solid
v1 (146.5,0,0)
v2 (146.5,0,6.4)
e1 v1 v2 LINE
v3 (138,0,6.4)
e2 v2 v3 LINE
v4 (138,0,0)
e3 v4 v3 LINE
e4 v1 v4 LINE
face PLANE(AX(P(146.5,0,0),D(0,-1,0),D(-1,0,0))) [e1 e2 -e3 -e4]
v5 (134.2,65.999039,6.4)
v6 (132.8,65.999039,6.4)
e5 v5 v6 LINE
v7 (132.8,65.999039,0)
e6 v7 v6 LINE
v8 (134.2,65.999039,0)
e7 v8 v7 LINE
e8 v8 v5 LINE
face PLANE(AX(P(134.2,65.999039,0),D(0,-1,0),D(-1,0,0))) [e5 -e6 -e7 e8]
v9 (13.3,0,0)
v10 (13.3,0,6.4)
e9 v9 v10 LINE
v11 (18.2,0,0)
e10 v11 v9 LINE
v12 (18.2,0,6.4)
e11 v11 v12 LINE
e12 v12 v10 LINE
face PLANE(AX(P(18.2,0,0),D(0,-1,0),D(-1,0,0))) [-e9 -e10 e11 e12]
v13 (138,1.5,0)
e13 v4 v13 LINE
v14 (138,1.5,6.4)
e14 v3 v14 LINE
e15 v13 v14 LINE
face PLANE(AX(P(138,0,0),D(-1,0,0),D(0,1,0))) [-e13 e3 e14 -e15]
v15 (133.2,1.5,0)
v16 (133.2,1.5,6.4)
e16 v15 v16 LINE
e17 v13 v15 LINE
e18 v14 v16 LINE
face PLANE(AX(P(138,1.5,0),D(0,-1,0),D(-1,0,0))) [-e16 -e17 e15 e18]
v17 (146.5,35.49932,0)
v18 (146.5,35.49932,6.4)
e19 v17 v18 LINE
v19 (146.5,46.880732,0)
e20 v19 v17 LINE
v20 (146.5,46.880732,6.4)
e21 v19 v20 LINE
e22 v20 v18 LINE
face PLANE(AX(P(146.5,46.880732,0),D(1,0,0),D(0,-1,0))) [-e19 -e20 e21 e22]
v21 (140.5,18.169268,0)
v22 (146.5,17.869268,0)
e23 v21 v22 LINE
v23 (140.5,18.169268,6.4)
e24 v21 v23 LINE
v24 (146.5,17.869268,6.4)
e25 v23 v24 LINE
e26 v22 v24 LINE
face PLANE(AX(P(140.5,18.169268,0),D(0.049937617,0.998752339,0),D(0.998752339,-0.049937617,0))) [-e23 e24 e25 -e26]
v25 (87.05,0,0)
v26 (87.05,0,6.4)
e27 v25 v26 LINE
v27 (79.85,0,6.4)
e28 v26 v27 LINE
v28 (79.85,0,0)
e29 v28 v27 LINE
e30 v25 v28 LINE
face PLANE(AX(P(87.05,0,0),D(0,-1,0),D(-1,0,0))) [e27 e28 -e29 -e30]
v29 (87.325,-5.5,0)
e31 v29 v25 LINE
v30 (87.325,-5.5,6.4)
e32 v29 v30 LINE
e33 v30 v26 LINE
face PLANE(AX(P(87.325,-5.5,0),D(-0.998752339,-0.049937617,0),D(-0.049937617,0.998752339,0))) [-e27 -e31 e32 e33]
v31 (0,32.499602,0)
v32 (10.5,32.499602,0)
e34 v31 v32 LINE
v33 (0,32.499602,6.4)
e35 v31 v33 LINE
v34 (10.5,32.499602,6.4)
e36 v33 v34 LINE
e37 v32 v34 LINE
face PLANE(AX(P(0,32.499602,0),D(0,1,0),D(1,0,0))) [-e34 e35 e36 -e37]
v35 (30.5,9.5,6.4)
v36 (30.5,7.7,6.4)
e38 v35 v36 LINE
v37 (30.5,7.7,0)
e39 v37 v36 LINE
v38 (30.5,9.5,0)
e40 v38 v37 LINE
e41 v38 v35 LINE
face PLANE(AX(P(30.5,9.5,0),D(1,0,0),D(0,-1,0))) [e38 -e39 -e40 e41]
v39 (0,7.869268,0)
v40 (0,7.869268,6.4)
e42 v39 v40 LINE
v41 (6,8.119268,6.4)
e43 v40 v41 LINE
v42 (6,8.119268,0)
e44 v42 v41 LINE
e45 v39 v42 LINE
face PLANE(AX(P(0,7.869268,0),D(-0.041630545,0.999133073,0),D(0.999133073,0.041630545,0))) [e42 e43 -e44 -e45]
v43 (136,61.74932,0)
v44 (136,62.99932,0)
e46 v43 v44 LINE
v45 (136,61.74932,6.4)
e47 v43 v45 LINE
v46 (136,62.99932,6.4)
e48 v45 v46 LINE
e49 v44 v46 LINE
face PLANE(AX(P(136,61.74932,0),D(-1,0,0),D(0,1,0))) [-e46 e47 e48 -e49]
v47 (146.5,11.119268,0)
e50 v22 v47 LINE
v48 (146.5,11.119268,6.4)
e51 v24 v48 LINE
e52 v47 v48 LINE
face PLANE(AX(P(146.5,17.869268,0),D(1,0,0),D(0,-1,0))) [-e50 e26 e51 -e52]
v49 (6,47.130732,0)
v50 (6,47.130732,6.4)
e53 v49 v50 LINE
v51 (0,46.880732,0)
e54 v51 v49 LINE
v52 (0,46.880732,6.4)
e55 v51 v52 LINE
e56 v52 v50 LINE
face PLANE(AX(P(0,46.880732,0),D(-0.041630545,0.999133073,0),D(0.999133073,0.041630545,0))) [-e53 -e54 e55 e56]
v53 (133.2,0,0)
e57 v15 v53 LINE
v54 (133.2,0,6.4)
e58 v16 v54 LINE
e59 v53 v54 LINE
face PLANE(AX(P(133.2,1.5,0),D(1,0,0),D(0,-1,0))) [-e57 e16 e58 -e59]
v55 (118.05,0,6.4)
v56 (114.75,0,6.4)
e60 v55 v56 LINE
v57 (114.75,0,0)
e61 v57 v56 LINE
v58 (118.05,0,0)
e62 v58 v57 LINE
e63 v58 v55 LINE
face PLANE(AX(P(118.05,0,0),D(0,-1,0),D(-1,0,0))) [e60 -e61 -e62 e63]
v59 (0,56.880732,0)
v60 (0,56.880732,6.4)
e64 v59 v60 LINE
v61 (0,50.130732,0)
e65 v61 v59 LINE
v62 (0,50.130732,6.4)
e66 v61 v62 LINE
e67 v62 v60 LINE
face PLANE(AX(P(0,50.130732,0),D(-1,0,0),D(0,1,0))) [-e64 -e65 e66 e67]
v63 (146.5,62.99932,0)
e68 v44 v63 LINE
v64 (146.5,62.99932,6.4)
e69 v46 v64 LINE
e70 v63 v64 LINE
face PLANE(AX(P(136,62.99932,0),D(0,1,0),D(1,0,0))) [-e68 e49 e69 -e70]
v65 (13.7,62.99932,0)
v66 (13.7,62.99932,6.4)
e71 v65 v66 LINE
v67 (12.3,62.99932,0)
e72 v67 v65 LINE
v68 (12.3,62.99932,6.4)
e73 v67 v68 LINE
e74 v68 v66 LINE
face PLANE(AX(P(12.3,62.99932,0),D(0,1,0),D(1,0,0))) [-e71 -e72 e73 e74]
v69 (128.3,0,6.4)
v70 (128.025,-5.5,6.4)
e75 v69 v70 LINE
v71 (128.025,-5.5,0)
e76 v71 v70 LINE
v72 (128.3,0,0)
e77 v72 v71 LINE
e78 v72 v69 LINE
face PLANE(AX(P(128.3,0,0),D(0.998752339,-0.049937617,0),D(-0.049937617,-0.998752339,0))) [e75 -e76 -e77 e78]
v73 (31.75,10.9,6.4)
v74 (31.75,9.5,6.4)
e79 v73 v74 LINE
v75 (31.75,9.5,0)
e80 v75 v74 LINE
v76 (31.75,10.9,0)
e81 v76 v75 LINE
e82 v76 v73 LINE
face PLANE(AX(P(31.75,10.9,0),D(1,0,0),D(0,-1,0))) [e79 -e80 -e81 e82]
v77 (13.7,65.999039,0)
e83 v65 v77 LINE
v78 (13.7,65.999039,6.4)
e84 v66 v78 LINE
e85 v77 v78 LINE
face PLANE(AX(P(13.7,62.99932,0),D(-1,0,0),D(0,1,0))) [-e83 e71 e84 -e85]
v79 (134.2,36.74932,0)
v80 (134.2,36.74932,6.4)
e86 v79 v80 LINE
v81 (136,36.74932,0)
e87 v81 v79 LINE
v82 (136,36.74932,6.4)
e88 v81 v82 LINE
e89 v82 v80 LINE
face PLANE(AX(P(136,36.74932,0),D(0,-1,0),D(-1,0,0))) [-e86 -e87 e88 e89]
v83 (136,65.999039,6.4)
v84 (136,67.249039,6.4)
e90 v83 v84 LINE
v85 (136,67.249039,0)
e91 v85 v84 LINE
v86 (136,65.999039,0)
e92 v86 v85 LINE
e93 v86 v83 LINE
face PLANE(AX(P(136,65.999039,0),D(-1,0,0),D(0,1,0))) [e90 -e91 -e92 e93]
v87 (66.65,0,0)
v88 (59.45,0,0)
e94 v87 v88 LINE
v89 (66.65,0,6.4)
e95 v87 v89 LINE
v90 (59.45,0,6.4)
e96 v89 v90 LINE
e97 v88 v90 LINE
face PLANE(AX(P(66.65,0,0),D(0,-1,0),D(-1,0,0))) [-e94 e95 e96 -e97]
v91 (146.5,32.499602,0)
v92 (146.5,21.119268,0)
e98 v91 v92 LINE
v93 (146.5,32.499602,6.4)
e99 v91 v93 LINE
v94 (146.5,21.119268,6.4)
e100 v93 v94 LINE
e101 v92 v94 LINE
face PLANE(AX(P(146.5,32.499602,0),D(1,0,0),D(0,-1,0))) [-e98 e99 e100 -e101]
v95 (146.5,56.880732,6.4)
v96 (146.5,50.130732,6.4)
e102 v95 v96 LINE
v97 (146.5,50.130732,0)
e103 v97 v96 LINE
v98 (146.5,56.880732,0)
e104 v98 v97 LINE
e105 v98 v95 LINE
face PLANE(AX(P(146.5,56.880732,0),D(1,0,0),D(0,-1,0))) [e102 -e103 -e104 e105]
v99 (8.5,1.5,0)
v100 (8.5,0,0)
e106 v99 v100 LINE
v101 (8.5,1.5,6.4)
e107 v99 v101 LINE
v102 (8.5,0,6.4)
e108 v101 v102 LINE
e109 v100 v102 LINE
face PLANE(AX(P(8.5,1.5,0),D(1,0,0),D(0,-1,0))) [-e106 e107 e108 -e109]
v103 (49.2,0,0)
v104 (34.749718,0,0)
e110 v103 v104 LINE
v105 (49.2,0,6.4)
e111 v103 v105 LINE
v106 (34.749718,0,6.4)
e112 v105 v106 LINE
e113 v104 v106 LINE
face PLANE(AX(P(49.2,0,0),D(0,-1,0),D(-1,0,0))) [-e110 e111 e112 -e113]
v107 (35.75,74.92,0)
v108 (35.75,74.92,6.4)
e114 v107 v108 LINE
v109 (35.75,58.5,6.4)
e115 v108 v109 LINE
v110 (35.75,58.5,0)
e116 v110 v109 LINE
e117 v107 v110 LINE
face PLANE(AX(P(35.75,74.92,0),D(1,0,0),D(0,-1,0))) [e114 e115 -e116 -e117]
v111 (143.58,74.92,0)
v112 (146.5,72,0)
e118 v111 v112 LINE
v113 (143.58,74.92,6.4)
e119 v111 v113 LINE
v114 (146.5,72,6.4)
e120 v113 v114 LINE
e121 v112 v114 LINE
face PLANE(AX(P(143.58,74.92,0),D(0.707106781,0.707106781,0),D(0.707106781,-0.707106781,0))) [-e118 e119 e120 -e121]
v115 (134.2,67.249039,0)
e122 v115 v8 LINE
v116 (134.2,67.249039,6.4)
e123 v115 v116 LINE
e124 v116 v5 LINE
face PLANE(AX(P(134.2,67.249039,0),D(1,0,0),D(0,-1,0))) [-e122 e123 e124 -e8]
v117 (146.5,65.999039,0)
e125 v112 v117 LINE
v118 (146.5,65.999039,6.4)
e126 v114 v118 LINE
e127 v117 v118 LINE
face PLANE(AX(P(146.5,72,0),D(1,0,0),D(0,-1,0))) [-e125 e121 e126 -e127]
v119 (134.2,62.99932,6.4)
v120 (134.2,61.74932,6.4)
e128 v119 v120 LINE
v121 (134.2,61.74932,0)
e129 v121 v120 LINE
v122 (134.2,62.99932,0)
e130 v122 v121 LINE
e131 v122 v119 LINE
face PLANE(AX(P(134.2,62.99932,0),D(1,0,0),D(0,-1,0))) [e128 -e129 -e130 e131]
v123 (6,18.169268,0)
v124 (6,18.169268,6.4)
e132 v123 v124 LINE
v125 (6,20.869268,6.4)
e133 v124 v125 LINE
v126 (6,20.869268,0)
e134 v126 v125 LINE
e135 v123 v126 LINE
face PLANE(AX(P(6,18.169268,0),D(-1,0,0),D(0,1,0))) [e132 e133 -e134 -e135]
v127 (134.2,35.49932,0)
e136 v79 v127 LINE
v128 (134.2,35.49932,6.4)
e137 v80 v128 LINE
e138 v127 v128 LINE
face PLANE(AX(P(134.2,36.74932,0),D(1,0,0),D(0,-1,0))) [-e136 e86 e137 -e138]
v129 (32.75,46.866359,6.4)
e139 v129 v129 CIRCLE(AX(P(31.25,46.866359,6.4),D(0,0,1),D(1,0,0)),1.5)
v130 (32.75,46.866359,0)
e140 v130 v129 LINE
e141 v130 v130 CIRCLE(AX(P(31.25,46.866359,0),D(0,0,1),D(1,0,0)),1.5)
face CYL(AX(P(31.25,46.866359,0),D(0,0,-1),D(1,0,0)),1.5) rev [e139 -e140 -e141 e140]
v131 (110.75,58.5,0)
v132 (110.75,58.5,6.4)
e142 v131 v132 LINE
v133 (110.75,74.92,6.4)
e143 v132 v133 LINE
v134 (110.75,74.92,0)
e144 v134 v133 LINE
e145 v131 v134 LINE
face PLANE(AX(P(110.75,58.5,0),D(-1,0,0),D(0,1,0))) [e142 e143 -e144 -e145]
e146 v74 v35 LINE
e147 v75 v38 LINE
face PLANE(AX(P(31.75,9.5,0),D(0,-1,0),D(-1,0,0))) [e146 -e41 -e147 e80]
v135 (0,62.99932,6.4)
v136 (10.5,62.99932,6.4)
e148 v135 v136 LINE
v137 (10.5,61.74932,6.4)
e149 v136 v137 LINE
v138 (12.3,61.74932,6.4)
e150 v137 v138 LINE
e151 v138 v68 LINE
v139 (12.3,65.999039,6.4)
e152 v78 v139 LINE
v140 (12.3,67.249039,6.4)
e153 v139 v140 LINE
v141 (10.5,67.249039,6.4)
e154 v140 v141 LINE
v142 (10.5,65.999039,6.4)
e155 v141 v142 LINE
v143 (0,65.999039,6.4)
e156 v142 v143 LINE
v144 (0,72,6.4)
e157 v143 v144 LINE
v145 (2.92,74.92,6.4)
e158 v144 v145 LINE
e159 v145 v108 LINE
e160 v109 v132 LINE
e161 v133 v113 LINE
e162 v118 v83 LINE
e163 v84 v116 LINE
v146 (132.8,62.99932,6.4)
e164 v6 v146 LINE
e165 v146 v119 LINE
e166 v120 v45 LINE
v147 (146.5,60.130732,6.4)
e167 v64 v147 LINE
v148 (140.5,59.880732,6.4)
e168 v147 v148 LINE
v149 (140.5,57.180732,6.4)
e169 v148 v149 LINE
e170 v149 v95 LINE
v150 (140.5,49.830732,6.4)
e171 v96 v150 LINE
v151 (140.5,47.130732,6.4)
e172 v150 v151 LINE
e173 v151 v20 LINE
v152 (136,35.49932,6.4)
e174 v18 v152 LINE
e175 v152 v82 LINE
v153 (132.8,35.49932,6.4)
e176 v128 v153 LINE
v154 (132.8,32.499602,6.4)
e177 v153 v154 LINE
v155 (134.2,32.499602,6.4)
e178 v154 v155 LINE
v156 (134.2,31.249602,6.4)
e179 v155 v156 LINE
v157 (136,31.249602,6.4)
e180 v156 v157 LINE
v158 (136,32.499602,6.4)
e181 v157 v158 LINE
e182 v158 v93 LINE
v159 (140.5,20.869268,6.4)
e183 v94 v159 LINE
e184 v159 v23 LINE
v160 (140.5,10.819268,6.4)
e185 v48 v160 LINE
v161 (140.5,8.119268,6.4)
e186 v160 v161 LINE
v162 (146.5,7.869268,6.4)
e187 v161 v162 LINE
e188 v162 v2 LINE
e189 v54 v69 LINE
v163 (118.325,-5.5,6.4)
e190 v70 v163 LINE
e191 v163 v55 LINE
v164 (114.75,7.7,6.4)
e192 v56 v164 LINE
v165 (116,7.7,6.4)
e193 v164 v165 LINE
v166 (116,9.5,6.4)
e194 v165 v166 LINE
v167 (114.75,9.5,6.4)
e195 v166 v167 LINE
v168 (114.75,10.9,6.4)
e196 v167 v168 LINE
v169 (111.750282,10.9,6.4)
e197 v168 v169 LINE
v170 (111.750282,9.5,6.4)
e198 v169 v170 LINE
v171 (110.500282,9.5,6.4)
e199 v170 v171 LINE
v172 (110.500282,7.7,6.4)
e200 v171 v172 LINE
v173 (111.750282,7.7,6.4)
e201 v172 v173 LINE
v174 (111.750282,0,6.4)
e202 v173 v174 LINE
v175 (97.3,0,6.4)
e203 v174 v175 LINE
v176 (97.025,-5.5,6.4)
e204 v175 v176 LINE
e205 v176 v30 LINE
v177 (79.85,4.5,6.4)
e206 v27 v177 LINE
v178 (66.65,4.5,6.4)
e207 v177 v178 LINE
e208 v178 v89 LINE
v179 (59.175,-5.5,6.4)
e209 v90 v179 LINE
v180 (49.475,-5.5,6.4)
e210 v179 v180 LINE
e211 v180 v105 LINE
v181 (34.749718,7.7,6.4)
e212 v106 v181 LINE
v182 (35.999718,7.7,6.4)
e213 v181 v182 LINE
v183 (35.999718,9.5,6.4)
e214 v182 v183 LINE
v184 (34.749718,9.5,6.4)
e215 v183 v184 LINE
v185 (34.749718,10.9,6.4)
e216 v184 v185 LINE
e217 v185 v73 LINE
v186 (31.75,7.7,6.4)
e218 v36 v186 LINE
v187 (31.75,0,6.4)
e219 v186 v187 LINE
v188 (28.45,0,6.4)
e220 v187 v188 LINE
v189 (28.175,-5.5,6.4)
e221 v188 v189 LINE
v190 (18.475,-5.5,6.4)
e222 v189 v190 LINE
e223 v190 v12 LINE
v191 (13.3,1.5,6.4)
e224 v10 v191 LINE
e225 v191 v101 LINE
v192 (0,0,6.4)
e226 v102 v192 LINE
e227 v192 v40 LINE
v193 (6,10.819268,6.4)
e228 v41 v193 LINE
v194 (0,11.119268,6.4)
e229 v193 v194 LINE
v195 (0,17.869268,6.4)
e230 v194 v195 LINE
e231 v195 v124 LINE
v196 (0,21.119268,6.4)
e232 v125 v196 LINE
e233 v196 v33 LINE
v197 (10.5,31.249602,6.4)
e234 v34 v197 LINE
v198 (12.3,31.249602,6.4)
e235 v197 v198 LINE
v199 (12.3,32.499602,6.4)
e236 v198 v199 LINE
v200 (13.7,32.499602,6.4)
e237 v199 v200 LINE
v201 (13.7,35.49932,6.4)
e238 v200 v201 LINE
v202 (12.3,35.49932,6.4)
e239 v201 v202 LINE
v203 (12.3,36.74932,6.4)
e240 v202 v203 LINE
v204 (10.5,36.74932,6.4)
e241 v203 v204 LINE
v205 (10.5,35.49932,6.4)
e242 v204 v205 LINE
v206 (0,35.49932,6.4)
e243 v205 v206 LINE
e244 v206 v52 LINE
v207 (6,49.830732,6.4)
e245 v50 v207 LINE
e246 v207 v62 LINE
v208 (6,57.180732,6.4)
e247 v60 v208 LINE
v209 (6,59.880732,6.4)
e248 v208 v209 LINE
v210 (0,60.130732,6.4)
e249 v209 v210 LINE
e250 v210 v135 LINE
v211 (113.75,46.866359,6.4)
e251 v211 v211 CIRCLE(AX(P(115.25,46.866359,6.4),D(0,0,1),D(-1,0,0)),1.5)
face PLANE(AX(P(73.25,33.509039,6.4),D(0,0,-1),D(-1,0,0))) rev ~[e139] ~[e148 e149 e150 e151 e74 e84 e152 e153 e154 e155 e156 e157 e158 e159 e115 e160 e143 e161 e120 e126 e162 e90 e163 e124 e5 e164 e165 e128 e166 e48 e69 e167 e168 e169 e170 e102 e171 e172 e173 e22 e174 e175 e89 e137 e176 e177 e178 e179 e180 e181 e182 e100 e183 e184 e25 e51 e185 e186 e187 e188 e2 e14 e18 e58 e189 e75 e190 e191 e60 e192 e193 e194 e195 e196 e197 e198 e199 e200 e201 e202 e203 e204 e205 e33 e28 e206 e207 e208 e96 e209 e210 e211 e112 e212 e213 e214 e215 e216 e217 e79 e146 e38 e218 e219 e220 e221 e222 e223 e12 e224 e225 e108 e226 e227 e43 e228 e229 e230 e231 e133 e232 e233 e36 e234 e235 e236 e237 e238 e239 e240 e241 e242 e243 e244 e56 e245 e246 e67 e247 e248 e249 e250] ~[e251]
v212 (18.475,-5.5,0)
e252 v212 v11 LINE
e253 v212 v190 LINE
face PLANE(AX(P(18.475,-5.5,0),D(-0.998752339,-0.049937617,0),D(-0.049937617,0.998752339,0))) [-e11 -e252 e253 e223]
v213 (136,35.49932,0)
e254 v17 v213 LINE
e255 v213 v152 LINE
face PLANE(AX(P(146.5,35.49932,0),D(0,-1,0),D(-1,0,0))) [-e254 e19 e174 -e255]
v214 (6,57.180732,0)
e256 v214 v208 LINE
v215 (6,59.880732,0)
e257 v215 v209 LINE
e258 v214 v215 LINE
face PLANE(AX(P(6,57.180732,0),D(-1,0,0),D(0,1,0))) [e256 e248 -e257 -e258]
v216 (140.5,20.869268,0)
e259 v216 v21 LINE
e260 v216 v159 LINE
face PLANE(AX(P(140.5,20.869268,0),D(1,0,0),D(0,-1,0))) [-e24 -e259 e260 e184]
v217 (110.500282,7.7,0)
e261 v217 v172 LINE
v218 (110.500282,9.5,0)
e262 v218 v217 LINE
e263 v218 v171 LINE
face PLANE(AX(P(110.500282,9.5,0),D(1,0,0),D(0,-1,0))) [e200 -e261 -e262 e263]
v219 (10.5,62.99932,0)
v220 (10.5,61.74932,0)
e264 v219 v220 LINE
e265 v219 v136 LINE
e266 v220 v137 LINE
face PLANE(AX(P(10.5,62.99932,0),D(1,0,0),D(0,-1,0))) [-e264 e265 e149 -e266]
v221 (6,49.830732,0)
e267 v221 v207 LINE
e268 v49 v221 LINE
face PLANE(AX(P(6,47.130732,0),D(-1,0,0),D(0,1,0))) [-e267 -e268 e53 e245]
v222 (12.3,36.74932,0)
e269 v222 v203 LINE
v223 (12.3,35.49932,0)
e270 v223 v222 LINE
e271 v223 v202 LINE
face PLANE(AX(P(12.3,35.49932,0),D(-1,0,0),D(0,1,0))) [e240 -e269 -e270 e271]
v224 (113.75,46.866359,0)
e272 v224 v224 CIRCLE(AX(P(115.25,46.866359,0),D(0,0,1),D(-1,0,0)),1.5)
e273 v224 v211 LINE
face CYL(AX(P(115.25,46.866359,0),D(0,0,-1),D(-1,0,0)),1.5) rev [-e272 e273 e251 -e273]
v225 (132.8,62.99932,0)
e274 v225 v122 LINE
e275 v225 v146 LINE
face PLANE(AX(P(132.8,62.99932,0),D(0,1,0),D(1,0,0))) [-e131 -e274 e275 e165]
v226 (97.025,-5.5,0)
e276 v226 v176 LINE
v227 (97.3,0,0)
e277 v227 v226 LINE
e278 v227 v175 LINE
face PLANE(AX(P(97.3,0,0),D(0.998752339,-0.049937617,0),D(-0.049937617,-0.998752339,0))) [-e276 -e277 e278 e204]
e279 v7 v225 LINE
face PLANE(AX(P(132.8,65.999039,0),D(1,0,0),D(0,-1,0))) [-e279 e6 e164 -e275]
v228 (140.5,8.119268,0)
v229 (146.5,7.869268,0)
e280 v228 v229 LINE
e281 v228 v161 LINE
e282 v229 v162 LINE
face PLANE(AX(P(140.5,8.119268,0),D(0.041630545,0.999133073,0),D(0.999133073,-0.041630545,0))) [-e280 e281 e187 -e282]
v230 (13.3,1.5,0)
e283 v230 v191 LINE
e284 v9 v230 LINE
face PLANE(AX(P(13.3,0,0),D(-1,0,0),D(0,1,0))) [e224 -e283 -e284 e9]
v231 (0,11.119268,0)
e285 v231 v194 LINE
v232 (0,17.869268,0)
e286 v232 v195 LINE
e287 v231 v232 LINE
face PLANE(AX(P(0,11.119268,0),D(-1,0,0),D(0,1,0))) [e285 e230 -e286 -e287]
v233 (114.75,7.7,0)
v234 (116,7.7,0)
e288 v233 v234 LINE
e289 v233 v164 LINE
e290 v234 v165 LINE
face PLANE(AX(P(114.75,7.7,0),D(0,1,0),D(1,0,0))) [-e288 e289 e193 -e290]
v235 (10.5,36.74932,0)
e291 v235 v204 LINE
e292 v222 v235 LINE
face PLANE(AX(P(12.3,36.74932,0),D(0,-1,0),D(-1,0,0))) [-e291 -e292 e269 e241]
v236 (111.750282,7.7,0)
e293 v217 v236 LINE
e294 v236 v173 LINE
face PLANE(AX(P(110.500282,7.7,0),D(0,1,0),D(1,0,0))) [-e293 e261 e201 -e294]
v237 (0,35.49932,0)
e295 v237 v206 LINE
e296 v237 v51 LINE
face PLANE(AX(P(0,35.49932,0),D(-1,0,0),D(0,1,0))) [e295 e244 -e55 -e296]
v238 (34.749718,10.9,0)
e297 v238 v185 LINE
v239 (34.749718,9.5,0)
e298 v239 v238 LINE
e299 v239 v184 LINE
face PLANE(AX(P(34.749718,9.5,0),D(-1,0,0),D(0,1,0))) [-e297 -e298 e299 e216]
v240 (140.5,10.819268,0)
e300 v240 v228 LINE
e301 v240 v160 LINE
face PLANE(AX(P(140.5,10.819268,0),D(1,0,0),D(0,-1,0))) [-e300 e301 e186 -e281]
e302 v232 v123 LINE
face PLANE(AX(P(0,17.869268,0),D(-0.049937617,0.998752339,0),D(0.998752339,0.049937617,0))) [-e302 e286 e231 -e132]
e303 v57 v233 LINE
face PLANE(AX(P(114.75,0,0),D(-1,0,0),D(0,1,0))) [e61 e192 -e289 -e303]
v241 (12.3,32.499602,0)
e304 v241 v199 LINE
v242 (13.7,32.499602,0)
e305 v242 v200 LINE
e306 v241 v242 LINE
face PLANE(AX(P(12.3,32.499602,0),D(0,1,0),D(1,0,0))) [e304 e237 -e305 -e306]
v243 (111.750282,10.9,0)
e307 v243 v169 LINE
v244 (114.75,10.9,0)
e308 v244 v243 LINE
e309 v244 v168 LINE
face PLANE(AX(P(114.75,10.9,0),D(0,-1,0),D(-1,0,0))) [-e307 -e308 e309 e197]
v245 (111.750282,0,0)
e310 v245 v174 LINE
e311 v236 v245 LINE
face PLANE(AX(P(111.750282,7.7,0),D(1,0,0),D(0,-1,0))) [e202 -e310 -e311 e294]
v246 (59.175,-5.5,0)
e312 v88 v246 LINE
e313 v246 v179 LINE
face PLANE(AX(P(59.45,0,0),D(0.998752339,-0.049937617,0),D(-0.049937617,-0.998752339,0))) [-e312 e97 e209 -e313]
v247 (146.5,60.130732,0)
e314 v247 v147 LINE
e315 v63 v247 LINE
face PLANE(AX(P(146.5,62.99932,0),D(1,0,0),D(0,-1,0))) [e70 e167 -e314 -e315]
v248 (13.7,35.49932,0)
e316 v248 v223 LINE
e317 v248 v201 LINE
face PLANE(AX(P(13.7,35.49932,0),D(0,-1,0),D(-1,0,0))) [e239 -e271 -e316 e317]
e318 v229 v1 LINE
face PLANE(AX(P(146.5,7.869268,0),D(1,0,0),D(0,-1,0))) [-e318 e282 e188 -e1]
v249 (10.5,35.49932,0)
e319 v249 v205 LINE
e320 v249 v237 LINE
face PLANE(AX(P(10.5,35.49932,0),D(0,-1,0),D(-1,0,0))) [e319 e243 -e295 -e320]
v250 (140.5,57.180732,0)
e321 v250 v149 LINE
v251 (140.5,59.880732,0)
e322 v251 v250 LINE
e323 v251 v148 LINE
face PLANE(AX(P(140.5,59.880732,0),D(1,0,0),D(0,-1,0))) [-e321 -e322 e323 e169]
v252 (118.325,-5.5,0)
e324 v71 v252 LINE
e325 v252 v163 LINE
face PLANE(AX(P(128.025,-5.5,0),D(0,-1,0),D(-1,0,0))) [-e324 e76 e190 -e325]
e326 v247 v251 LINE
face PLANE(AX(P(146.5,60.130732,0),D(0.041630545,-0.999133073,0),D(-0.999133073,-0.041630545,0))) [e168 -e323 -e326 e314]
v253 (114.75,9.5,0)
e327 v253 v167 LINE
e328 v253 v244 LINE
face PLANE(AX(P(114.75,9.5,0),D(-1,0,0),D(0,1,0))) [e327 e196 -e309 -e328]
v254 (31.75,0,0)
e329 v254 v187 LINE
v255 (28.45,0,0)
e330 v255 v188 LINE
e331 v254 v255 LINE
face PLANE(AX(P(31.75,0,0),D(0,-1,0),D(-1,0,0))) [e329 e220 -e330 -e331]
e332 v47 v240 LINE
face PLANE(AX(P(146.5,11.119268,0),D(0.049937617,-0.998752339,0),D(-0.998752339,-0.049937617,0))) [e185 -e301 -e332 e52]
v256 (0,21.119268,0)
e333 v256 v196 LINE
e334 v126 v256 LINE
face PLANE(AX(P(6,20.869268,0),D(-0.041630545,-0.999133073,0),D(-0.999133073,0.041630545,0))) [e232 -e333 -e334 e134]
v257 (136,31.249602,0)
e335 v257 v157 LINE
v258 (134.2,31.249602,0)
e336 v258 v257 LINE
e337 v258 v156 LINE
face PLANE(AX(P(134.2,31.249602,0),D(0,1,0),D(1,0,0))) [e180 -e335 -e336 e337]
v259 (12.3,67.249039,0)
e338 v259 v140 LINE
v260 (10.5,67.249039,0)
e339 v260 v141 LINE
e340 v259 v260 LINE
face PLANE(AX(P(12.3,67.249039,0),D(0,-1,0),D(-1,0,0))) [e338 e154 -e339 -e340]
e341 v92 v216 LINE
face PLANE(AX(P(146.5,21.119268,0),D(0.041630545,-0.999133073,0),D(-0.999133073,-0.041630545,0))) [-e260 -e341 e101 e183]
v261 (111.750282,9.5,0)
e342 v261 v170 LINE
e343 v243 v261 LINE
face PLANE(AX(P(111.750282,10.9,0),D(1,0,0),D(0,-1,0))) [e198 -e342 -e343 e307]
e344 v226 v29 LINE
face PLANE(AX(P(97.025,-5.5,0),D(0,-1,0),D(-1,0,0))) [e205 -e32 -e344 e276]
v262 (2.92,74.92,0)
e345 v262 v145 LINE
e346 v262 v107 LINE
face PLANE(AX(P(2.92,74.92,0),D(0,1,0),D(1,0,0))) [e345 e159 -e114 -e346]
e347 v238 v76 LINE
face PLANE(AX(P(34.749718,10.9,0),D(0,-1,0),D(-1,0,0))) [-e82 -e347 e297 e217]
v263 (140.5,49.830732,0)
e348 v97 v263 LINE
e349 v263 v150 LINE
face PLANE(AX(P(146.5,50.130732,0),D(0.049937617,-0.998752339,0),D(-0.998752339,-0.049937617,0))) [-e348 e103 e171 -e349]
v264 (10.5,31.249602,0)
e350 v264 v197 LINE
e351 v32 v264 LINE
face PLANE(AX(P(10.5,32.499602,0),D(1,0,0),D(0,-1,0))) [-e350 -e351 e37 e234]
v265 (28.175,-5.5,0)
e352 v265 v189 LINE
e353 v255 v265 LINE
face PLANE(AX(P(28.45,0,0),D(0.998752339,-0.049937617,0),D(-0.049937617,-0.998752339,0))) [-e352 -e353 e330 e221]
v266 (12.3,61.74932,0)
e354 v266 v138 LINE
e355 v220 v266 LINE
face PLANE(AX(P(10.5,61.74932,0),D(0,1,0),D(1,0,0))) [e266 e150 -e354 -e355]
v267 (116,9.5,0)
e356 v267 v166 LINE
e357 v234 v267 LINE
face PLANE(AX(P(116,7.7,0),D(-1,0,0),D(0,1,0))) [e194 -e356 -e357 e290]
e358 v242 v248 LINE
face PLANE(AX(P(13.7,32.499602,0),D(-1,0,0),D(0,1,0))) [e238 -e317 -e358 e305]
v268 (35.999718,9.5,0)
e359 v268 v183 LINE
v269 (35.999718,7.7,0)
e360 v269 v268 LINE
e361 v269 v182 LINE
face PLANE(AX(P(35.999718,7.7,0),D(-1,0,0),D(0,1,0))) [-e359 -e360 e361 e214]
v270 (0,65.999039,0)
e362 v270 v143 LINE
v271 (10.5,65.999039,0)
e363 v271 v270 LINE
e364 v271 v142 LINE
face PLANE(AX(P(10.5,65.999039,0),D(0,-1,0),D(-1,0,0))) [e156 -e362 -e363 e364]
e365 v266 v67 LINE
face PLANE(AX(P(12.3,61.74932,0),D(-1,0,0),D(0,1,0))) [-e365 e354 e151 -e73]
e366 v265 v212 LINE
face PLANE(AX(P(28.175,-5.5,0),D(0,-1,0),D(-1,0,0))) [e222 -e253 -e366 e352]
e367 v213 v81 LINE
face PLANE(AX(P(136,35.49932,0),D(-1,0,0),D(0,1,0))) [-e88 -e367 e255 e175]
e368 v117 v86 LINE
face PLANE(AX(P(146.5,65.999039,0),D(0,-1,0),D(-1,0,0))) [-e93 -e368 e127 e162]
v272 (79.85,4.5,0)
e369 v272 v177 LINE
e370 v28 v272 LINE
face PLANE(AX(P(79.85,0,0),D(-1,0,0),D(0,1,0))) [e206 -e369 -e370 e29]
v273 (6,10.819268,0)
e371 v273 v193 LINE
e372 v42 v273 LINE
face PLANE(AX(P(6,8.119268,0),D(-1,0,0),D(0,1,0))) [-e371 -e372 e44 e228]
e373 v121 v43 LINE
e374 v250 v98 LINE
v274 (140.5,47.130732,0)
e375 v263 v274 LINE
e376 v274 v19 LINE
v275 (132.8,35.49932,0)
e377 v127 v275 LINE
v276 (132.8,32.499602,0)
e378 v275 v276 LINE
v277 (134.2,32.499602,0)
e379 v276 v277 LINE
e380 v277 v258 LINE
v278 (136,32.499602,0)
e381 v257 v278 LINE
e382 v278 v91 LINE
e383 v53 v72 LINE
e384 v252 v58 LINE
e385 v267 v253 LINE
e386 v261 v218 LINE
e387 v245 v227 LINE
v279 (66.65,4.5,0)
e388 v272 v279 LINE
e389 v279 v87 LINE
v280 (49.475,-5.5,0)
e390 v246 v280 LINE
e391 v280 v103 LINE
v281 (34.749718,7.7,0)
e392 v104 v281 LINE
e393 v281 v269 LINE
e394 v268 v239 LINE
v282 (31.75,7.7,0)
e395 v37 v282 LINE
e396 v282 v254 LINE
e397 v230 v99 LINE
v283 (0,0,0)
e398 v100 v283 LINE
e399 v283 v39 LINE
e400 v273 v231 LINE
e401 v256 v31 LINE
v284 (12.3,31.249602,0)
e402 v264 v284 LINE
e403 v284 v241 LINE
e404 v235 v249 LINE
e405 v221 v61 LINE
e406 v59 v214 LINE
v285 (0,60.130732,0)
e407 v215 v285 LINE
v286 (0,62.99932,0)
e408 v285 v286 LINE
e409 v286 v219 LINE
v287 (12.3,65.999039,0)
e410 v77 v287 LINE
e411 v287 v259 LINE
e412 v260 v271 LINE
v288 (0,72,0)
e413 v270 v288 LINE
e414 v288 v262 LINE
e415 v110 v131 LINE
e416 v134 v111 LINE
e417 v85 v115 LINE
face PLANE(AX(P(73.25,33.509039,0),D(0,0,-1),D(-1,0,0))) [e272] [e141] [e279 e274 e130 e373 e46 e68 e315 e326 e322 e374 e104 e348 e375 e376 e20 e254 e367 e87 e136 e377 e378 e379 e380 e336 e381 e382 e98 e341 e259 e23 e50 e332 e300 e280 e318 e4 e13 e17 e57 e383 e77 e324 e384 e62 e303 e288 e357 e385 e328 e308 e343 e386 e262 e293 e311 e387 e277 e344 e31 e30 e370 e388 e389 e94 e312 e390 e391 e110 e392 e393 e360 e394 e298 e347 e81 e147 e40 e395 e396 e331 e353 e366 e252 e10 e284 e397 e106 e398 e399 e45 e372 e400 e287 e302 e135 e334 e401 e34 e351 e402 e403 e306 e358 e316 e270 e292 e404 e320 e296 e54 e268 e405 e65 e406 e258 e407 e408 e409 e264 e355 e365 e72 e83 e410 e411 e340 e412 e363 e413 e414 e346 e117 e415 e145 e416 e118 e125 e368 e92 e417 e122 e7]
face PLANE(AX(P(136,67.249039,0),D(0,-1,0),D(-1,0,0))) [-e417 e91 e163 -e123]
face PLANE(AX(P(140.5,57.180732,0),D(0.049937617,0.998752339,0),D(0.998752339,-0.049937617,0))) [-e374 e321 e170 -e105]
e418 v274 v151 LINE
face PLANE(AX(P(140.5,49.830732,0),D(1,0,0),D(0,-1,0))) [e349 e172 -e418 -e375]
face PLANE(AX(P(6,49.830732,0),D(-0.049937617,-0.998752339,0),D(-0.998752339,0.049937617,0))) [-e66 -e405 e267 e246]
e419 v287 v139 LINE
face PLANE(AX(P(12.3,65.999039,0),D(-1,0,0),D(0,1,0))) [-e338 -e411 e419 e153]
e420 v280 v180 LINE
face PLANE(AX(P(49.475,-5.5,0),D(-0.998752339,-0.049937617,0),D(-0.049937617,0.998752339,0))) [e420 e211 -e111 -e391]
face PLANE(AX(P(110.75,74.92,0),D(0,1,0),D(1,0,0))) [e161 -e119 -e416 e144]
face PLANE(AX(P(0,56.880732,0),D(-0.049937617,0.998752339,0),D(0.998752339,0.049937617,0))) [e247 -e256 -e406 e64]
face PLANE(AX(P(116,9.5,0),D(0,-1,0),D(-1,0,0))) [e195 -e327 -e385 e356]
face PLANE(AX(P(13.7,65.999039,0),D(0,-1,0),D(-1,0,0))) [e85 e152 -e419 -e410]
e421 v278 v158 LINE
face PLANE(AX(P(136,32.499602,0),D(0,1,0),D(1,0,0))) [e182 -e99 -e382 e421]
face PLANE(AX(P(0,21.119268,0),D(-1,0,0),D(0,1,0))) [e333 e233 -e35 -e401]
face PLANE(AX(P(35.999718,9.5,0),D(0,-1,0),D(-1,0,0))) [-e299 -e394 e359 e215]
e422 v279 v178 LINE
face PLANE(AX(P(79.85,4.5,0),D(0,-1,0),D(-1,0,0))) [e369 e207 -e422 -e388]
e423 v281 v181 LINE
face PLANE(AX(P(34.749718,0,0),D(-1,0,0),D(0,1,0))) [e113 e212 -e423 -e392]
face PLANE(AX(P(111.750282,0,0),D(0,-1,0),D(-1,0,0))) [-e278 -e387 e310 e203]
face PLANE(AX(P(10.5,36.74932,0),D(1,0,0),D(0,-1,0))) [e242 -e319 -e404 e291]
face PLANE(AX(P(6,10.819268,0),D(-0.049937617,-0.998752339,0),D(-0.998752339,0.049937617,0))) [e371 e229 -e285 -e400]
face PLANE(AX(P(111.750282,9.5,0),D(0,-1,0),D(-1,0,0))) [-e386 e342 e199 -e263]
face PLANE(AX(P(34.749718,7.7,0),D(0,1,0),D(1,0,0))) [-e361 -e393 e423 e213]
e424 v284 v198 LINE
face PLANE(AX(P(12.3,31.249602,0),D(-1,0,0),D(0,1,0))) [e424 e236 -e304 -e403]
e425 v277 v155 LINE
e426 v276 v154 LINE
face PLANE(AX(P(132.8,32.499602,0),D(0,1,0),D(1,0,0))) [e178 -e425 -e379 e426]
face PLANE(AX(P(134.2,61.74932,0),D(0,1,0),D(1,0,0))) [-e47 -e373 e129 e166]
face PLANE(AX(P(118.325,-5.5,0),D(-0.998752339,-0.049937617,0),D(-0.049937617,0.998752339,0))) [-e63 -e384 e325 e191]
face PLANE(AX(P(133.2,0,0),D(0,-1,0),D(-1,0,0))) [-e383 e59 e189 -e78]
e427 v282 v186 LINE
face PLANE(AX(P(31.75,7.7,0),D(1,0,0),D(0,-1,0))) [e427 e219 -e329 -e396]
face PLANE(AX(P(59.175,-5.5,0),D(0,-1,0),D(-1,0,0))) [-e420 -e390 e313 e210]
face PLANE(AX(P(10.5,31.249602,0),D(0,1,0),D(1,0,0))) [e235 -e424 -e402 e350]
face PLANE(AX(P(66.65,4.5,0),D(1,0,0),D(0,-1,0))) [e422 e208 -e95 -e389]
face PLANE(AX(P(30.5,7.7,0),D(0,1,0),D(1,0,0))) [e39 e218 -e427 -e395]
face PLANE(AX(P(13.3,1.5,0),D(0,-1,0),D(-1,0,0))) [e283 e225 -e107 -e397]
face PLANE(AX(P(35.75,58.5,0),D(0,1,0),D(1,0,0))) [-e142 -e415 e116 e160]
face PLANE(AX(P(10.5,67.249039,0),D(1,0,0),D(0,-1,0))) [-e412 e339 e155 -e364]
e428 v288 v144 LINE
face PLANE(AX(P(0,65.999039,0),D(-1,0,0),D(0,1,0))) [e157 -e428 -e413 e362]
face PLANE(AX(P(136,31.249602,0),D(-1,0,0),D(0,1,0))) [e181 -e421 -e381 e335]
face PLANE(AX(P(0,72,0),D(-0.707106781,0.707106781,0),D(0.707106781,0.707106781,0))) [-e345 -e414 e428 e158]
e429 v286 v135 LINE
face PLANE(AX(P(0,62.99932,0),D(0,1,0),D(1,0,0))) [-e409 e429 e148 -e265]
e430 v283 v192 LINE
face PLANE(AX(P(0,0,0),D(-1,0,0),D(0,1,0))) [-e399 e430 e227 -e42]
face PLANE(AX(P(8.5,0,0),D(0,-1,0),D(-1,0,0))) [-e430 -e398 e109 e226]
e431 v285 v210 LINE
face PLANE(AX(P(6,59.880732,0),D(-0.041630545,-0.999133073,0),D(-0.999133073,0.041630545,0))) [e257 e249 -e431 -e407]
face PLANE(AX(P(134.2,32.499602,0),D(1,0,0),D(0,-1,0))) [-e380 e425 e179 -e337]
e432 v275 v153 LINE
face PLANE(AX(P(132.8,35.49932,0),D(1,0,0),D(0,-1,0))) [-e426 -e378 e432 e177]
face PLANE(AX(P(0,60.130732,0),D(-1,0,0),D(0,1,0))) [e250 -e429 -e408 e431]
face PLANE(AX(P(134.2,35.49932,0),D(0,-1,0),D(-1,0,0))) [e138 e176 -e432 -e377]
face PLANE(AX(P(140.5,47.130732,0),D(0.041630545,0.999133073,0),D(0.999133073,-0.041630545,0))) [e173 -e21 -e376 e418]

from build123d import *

# Parameters (mm, degrees)
SKETCH2_R           = 1.5
BOSS_EXTRUDE1_DEPTH = 6.4


with BuildPart() as part:
    # Sketch2 → Boss-Extrude1 (new body)
    with BuildSketch(Plane.XY):
        Polygon((35.75, 58.5), (110.75, 58.5), (110.75, 74.92), (143.58, 74.92), (146.5, 72), (146.5, 65.999038761), (136, 65.999038761), (136, 67.249038761), (134.2, 67.249038761), (134.2, 65.999038761), (132.8, 65.999038761), (132.8, 62.999320414), (134.2, 62.999320414), (134.2, 61.749320414), (136, 61.749320414), (136, 62.999320414), (146.5, 62.999320414), (146.5, 60.13073157), (140.5, 59.88073157), (140.5, 57.18073157), (146.5, 56.88073157), (146.5, 50.13073157), (140.5, 49.83073157), (140.5, 47.13073157), (146.5, 46.88073157), (146.5, 35.499320414), (136, 35.499320414), (136, 36.749320414), (134.2, 36.749320414), (134.2, 35.499320414), (132.8, 35.499320414), (132.8, 32.499602067), (134.2, 32.499602067), (134.2, 31.249602067), (136, 31.249602067), (136, 32.499602067), (146.5, 32.499602067), (146.5, 21.11926843), (140.5, 20.86926843), (140.5, 18.16926843), (146.5, 17.86926843), (146.5, 11.11926843), (140.5, 10.81926843), (140.5, 8.11926843), (146.5, 7.86926843), (146.5, 0), (138, 0), (138, 1.5), (133.2, 1.5), (133.2, 0), (128.3, 0), (128.025, -5.5), (118.325, -5.5), (118.05, 0), (114.75, 0), (114.75, 7.7), (116, 7.7), (116, 9.5), (114.75, 9.5), (114.75, 10.9), (111.750281653, 10.9), (111.750281653, 9.5), (110.500281653, 9.5), (110.500281653, 7.7), (111.750281653, 7.7), (111.750281653, 0), (97.3, 0), (97.025, -5.5), (87.325, -5.5), (87.05, 0), (79.85, 0), (79.85, 4.5), (66.65, 4.5), (66.65, 0), (59.45, 0), (59.175, -5.5), (49.475, -5.5), (49.2, 0), (34.749718347, 0), (34.749718347, 7.7), (35.999718347, 7.7), (35.999718347, 9.5), (34.749718347, 9.5), (34.749718347, 10.9), (31.75, 10.9), (31.75, 9.5), (30.5, 9.5), (30.5, 7.7), (31.75, 7.7), (31.75, 0), (28.45, 0), (28.175, -5.5), (18.475, -5.5), (18.2, 0), (13.3, 0), (13.3, 1.5), (8.5, 1.5), (8.5, 0), (0, 0), (0, 7.86926843), (6, 8.11926843), (6, 10.81926843), (0, 11.11926843), (0, 17.86926843), (6, 18.16926843), (6, 20.86926843), (0, 21.11926843), (0, 32.499602067), (10.5, 32.499602067), (10.5, 31.249602067), (12.3, 31.249602067), (12.3, 32.499602067), (13.7, 32.499602067), (13.7, 35.499320414), (12.3, 35.499320414), (12.3, 36.749320414), (10.5, 36.749320414), (10.5, 35.499320414), (0, 35.499320414), (0, 46.88073157), (6, 47.13073157), (6, 49.83073157), (0, 50.13073157), (0, 56.88073157), (6, 57.18073157), (6, 59.88073157), (0, 60.13073157), (0, 62.999320414), (10.5, 62.999320414), (10.5, 61.749320414), (12.3, 61.749320414), (12.3, 62.999320414), (13.7, 62.999320414), (13.7, 65.999038761), (12.3, 65.999038761), (12.3, 67.249038761), (10.5, 67.249038761), (10.5, 65.999038761), (0, 65.999038761), (0, 72), (2.92, 74.92), (35.75, 74.92), align=None)
        with Locations((31.25, 46.866359173)):
            Circle(SKETCH2_R, mode=Mode.SUBTRACT)
        with Locations(Location((115.25, 46.866359173, 0), (0, 0, 180))):
            Circle(SKETCH2_R, mode=Mode.SUBTRACT)
    extrude(amount=BOSS_EXTRUDE1_DEPTH)


solid = part.part
